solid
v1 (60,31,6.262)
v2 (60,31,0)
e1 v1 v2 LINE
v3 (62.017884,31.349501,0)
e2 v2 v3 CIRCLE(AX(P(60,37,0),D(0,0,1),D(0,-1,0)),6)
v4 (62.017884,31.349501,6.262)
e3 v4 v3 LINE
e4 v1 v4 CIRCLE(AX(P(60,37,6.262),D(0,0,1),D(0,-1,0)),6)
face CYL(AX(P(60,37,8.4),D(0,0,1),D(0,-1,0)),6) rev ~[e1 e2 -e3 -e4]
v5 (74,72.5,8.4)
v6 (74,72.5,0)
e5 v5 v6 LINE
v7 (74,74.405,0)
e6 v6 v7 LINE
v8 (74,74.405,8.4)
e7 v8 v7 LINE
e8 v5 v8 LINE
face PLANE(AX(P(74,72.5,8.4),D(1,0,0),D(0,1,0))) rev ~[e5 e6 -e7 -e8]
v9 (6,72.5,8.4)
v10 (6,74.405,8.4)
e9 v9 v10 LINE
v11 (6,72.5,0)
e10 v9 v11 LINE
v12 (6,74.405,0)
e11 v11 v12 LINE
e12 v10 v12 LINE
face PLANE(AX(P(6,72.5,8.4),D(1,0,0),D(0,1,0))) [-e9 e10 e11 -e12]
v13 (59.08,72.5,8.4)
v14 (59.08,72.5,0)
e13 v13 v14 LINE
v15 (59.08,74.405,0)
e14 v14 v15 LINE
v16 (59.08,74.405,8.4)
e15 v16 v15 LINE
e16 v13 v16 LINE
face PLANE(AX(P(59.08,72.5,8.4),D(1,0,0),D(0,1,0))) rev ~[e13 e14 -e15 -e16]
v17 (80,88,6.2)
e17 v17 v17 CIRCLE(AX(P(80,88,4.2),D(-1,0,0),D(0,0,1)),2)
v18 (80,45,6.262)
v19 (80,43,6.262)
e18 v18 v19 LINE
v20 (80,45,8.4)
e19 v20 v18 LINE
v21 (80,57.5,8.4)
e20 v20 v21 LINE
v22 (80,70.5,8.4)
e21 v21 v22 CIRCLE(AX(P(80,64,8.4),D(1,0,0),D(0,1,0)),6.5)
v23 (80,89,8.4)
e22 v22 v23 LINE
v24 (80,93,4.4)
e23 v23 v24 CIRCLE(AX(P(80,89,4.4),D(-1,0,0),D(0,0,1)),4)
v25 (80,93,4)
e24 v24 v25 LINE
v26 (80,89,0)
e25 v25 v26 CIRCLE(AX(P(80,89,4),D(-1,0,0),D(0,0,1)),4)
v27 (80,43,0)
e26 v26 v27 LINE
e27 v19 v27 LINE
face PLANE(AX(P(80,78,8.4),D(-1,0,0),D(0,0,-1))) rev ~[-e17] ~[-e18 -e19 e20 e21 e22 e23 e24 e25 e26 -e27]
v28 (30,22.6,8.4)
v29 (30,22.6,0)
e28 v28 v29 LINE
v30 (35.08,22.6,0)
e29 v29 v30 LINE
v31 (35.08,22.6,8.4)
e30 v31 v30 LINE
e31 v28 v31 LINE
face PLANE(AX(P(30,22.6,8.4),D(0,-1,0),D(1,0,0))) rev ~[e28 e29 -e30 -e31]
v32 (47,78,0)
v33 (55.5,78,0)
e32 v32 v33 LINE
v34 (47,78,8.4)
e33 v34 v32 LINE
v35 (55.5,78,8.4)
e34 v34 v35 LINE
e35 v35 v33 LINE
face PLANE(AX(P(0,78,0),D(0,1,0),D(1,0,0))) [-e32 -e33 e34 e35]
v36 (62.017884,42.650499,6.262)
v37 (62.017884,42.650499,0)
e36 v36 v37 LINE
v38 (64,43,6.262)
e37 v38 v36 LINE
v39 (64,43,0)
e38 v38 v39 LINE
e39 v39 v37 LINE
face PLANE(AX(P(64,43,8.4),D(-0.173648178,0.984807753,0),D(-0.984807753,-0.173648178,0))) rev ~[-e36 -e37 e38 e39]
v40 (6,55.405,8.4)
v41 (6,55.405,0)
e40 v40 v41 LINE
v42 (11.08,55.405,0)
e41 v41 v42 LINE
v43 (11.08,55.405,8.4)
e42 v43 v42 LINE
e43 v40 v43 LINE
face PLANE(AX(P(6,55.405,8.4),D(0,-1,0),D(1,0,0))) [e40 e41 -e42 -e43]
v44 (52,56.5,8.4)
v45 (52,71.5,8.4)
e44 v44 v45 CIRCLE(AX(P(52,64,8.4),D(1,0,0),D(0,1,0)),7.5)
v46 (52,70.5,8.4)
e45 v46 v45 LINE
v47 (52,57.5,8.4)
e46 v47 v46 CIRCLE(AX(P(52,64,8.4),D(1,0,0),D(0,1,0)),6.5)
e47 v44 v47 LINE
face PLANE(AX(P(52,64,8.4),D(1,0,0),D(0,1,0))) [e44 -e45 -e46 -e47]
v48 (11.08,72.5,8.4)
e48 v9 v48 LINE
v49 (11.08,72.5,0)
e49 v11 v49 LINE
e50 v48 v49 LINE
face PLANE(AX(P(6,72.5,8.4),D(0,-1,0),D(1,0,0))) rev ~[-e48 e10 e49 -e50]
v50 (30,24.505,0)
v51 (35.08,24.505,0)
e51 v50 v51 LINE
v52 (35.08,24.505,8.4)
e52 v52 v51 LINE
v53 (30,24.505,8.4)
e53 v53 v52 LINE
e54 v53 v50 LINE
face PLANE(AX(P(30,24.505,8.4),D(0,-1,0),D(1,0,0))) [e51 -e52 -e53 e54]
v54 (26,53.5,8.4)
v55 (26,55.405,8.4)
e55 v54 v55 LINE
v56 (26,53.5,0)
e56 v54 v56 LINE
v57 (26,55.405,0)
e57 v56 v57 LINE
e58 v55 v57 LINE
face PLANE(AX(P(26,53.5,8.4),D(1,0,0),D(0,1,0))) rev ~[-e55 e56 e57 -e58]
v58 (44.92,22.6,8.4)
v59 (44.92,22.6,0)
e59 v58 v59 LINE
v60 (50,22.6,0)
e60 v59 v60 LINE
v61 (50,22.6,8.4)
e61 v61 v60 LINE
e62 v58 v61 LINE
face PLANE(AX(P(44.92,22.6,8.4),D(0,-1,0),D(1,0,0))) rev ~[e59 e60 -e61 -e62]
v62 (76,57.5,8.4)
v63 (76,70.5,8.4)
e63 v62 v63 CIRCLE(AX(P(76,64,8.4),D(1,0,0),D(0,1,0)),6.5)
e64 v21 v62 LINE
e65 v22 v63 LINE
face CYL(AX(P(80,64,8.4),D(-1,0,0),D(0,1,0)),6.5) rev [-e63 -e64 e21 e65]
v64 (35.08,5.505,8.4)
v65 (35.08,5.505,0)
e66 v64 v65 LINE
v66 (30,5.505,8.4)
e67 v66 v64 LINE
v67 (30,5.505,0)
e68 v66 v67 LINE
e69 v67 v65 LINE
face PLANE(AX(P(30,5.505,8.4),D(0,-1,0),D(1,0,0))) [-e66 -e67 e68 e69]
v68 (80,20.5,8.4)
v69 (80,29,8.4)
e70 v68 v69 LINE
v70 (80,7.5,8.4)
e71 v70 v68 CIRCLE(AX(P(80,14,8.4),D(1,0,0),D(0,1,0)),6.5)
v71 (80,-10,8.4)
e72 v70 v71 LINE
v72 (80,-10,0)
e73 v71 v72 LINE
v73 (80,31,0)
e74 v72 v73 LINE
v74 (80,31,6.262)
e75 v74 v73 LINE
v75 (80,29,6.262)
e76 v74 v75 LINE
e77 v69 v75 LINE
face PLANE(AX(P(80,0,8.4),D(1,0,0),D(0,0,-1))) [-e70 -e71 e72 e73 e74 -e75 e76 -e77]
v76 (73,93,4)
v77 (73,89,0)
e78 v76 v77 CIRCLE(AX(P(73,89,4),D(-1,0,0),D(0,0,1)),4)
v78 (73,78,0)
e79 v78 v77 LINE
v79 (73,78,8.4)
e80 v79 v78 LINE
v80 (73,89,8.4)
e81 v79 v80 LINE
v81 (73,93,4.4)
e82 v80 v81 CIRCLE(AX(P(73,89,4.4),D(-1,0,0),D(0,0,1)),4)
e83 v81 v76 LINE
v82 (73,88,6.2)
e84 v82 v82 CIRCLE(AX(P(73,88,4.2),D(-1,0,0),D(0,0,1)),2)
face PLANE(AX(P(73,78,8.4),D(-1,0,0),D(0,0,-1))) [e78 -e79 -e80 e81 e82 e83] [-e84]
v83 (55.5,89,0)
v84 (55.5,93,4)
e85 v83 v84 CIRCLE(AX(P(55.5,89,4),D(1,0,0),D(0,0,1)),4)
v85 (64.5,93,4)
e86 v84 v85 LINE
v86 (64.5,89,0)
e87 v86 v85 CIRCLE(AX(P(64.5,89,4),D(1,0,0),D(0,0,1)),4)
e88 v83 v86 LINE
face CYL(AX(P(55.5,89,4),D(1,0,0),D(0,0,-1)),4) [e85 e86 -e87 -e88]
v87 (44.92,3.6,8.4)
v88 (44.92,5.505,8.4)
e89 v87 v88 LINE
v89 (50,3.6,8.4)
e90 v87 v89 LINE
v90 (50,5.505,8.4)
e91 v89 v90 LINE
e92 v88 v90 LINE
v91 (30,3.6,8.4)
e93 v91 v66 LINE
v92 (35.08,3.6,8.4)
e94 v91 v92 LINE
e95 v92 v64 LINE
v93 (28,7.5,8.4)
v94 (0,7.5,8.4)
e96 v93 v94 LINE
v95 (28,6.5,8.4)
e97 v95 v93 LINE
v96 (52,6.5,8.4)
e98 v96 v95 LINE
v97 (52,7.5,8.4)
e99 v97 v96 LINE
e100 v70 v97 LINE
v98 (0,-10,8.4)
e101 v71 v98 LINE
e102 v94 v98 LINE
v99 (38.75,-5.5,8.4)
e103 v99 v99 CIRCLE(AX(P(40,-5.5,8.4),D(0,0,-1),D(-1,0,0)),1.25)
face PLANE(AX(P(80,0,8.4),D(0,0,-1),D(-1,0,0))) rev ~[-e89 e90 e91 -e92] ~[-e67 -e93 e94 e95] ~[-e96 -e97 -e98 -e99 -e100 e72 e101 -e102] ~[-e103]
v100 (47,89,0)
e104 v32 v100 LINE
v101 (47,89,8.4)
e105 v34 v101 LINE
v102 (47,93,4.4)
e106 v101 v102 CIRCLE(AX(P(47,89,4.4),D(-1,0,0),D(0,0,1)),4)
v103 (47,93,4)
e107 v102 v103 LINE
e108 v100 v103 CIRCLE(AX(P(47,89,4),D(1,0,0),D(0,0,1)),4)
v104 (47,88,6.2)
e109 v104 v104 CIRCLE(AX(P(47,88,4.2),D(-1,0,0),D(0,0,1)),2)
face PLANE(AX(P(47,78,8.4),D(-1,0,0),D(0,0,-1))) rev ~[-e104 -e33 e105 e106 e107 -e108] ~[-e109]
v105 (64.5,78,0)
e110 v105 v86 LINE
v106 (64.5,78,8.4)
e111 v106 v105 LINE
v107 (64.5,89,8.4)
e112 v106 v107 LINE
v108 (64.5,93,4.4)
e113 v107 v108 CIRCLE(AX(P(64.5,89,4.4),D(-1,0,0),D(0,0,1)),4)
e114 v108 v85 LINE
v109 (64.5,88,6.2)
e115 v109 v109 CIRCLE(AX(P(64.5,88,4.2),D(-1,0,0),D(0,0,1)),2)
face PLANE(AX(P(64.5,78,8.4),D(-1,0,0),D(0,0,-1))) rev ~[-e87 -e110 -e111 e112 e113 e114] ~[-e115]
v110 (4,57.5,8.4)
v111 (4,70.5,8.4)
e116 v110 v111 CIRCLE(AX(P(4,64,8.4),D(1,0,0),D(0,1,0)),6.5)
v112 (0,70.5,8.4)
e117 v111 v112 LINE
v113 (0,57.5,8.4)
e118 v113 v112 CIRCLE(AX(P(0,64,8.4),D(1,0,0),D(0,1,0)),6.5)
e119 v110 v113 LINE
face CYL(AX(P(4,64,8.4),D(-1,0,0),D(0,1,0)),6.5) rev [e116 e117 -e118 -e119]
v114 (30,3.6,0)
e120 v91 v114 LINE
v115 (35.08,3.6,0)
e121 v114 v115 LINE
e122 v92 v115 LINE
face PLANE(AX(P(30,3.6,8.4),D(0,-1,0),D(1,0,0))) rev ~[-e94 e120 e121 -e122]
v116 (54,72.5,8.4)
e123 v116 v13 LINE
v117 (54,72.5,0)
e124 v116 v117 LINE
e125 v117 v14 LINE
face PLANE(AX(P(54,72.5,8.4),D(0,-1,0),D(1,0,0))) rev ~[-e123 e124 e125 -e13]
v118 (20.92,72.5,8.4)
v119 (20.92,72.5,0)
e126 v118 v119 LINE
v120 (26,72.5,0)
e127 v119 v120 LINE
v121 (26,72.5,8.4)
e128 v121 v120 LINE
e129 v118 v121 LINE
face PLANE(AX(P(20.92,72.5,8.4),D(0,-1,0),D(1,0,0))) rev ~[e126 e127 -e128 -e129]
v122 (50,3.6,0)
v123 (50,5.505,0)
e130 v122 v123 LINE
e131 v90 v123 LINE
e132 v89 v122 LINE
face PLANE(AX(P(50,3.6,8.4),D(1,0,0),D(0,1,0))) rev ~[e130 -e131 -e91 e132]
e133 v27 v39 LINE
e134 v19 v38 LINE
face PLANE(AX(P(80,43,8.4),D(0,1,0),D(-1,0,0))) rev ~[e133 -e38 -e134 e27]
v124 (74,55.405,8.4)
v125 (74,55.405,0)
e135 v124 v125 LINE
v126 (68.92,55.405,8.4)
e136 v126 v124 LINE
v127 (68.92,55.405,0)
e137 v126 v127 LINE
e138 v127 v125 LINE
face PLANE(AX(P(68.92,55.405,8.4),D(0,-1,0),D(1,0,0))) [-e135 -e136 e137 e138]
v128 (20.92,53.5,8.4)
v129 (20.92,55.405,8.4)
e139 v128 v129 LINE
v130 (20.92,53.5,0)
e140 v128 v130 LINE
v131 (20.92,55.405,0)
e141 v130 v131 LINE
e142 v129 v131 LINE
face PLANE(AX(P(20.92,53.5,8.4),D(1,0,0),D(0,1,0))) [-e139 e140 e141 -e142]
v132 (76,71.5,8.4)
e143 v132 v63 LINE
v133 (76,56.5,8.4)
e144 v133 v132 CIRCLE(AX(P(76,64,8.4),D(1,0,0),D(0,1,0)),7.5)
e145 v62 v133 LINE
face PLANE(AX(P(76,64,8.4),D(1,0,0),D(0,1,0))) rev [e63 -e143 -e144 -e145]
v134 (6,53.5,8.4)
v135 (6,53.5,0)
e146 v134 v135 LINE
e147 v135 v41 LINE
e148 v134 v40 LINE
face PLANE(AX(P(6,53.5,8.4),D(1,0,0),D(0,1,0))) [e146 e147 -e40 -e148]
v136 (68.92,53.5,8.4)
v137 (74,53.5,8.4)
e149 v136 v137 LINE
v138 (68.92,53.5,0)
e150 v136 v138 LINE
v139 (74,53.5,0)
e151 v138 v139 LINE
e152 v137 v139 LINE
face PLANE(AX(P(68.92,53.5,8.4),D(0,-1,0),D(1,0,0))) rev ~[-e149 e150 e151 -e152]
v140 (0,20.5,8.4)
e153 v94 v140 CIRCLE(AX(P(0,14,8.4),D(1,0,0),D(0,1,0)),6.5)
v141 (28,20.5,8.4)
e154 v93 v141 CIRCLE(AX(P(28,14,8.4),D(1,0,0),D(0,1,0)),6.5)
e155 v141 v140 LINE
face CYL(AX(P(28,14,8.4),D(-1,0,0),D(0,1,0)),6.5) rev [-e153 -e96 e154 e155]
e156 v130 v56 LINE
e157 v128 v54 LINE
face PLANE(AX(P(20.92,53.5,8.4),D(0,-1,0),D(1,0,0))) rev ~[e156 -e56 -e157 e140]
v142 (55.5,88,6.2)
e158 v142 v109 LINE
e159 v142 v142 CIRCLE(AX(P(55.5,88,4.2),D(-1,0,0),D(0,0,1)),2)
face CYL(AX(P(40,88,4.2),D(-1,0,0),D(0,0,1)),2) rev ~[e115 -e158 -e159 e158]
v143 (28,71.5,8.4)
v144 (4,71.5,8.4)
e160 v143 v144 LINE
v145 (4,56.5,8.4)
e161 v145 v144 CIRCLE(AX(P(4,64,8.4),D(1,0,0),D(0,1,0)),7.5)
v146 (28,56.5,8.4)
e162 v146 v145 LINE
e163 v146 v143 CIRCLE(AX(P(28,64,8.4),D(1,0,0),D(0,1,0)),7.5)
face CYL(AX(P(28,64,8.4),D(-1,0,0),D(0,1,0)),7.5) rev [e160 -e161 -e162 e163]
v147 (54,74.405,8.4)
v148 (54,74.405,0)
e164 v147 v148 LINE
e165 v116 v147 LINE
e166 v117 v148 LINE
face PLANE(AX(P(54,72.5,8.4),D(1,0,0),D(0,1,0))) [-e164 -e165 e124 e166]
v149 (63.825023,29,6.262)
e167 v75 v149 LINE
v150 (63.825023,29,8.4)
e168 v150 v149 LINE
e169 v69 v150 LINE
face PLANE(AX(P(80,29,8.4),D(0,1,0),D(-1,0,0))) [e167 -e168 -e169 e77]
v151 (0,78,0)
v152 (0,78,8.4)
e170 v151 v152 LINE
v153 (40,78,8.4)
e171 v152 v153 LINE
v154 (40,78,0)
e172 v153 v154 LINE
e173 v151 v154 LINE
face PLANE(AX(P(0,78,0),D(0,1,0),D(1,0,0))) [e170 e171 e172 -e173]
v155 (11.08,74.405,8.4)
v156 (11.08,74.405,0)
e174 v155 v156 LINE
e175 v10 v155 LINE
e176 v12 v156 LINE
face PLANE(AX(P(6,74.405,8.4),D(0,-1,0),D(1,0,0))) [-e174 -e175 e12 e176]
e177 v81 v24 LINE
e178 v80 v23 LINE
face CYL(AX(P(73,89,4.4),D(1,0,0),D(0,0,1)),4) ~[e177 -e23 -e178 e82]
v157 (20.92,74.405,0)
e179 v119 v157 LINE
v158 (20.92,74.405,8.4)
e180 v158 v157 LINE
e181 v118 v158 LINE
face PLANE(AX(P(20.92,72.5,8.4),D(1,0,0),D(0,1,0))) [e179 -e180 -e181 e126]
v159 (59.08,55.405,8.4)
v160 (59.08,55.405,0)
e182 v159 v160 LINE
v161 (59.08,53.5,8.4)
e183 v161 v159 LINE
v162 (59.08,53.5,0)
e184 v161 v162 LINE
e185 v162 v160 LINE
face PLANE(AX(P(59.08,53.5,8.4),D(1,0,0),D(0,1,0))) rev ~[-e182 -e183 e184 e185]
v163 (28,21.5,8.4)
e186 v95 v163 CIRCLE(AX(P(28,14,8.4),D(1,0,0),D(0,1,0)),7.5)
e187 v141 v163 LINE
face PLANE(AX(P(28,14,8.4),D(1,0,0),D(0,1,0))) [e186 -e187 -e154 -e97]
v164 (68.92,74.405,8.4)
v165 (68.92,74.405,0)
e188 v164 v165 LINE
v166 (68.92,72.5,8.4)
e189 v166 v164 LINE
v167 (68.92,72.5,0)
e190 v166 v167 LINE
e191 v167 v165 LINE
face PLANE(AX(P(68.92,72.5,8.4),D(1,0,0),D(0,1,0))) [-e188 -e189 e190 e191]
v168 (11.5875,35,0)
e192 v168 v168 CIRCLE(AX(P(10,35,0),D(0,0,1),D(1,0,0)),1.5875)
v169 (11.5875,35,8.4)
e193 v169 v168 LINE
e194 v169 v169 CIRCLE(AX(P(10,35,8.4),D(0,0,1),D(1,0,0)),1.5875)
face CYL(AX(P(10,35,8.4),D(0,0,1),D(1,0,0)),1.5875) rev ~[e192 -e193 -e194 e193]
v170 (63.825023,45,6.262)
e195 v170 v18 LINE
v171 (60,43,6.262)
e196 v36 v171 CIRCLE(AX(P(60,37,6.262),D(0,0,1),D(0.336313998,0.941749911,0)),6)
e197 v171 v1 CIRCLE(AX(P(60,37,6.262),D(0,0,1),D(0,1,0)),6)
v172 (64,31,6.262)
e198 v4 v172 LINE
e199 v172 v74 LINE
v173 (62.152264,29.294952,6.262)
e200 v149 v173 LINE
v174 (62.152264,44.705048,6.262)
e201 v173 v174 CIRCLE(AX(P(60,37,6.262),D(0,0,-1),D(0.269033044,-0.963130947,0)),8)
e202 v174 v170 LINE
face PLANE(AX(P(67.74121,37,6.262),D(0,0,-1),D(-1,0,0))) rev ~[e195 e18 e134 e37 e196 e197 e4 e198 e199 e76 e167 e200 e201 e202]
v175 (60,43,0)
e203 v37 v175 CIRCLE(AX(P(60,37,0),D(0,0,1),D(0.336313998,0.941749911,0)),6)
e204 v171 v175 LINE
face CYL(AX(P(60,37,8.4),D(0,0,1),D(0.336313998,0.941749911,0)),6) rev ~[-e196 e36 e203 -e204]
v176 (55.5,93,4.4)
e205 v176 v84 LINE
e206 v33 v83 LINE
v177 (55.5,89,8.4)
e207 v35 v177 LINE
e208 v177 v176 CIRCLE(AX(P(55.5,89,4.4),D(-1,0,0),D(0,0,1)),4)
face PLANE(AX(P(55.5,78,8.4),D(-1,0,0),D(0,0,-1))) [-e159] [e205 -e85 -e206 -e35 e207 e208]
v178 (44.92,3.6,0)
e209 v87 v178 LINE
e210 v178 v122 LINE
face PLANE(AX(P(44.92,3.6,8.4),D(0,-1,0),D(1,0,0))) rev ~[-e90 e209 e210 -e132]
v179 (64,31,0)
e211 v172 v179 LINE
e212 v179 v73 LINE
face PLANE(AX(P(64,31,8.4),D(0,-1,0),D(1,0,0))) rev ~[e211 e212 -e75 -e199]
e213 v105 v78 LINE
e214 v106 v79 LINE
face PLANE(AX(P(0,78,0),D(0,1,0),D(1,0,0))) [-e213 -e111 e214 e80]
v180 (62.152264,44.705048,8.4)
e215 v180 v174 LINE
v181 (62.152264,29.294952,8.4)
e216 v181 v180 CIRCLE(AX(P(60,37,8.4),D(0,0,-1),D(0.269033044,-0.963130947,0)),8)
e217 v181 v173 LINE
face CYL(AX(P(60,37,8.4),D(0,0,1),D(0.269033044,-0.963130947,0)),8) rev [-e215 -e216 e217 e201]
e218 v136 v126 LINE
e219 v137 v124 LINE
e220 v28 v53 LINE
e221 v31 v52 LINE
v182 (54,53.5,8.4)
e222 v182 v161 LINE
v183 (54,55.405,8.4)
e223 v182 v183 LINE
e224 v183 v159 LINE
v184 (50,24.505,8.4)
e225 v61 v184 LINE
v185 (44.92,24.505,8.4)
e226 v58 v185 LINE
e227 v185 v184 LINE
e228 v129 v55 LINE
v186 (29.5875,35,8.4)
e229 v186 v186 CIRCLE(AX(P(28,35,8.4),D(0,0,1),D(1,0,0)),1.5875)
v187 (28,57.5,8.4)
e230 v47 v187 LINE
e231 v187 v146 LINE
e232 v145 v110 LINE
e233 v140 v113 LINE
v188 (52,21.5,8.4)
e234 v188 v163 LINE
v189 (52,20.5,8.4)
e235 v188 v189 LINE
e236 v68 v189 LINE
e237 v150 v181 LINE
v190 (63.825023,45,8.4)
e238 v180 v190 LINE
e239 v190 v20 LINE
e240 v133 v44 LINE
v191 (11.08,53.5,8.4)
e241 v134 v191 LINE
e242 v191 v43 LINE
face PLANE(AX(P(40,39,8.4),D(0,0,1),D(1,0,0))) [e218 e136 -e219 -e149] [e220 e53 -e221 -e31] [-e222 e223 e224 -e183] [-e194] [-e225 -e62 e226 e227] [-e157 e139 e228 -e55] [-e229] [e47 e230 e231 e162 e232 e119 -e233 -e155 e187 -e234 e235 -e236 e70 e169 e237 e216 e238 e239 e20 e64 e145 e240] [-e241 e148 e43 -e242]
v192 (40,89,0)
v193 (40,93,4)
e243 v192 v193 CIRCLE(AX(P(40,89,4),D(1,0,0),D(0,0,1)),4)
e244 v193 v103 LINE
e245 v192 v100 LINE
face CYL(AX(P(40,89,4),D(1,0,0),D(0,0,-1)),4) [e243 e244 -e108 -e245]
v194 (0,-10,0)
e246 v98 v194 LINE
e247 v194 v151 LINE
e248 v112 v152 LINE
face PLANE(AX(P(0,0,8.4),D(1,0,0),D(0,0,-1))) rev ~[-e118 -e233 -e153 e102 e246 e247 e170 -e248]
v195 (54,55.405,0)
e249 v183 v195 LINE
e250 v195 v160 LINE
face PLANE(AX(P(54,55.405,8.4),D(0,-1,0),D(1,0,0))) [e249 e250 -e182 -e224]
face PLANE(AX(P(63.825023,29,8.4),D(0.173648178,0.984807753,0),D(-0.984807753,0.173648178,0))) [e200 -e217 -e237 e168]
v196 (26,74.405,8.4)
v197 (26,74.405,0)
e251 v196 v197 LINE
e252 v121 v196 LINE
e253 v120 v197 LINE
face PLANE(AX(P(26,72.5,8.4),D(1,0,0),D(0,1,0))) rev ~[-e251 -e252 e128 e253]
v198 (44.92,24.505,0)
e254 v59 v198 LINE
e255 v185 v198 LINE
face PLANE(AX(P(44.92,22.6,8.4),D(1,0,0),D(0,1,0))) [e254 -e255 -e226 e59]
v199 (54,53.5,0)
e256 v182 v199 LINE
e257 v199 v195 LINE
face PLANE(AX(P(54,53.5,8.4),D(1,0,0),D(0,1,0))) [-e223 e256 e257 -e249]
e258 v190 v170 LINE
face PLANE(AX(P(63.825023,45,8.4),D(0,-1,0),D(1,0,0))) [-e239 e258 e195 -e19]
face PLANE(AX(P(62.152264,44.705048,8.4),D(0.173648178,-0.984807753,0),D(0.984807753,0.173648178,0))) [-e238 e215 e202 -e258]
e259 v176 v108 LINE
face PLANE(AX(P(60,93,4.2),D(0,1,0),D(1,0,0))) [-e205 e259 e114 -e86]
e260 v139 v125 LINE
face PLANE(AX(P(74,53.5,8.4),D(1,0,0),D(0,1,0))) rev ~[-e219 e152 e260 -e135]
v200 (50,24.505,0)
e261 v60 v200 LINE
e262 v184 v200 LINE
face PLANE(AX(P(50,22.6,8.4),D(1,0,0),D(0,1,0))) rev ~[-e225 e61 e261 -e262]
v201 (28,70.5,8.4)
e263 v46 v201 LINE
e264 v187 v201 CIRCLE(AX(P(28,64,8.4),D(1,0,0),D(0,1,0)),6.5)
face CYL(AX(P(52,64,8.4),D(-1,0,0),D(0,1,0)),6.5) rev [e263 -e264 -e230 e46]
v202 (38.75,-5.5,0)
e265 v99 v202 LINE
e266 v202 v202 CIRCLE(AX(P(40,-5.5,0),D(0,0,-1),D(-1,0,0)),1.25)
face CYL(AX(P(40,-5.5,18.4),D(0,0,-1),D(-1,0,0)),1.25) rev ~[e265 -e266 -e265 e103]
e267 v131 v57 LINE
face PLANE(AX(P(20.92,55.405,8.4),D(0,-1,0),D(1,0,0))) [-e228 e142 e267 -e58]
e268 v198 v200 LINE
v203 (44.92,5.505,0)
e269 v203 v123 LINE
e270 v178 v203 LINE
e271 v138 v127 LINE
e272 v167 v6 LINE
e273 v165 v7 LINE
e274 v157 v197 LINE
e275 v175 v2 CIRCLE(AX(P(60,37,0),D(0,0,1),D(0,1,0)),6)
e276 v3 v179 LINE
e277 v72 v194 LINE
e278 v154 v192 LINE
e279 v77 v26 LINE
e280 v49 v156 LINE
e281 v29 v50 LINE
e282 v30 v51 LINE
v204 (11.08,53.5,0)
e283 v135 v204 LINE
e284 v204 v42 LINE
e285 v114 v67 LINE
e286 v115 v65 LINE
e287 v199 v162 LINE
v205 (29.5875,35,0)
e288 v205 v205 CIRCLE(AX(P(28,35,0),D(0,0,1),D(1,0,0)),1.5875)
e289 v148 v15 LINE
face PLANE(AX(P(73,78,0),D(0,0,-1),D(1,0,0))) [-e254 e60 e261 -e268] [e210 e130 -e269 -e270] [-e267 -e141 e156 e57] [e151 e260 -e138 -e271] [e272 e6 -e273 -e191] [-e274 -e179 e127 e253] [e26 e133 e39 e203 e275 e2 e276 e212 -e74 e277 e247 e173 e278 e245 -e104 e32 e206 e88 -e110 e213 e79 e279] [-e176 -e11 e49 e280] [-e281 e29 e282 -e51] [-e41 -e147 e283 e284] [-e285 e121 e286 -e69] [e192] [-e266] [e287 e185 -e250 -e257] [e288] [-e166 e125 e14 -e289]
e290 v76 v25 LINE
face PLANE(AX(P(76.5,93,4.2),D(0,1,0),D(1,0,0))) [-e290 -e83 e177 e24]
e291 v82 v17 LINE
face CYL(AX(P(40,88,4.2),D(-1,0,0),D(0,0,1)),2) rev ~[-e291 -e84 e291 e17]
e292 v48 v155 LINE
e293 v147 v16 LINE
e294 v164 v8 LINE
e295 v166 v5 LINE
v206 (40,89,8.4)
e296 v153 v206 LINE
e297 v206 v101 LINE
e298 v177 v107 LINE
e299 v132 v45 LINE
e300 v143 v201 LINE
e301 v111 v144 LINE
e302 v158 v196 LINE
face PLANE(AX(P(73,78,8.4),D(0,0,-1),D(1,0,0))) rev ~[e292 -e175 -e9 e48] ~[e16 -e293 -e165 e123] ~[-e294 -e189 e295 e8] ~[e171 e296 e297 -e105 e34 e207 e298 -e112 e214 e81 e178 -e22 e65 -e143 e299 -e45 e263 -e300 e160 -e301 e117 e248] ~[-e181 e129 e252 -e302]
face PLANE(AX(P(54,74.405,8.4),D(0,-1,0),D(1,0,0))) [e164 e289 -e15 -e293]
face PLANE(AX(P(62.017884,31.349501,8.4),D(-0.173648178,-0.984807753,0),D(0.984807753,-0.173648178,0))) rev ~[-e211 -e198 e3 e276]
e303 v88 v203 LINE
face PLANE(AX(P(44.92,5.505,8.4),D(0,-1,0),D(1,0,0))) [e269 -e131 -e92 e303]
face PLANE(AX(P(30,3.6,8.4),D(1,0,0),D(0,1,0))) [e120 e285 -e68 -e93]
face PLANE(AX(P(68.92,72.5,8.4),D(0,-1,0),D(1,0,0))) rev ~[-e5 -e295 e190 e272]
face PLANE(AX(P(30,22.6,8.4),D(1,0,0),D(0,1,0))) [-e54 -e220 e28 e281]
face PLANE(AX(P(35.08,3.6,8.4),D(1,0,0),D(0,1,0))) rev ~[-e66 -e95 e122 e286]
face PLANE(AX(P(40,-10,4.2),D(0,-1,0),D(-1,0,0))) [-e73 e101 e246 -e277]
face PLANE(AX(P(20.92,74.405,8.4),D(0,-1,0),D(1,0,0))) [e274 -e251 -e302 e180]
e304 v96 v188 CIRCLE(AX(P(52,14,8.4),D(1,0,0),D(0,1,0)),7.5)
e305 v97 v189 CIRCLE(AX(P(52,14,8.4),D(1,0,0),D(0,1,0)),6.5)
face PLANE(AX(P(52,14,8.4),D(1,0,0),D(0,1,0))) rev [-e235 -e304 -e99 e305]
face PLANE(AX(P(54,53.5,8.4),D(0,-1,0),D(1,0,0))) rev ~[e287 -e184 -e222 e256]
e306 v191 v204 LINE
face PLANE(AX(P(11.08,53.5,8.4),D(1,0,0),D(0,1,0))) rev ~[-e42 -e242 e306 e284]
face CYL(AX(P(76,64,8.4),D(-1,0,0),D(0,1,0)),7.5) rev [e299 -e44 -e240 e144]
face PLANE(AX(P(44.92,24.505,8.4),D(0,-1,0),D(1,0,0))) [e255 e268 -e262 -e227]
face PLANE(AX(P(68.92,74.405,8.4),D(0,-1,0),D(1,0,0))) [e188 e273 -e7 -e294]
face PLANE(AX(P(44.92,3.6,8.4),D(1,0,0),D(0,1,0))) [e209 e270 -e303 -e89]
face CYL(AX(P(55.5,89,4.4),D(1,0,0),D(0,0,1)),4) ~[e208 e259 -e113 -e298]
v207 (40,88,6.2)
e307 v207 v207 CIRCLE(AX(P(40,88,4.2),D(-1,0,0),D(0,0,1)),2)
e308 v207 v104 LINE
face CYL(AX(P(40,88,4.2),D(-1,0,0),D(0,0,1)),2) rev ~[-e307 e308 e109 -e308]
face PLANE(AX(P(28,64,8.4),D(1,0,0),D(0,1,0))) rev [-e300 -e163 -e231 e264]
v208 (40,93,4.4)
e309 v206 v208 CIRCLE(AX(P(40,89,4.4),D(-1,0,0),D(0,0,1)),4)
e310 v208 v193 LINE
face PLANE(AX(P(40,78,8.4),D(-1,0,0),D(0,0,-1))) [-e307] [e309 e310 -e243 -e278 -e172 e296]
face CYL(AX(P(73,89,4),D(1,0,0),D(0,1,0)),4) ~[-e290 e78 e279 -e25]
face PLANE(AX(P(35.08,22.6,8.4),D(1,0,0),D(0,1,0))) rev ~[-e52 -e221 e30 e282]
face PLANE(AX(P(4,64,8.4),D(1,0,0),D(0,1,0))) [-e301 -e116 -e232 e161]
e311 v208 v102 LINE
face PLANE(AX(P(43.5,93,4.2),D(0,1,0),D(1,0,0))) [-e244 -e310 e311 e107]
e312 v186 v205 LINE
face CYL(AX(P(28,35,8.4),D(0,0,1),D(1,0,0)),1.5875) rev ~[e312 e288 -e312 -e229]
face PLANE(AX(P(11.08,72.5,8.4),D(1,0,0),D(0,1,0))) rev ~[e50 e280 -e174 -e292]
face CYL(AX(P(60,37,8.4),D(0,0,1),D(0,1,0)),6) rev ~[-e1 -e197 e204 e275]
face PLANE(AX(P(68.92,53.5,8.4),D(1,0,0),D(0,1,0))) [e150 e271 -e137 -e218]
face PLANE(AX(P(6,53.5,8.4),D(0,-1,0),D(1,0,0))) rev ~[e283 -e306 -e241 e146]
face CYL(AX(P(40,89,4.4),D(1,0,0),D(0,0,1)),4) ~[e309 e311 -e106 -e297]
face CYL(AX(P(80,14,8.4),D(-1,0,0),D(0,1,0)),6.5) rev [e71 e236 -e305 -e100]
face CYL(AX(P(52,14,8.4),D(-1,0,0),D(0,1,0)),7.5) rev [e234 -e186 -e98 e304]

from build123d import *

# Parameters (mm, degrees)
SKETCH1_W                      = 80
SKETCH1_H                      = 78
BOSS_EXTRUDE1_DEPTH            = 8.4
SKETCH4_W                      = 5.08
SKETCH4_H                      = 1.905
CUT_EXTRUDE1_DEPTH             = 9.4
LPATTERN1_COUNT                = 2
LPATTERN1_PITCH                = 19
LPATTERN1_COUNT_DIR2           = 2
LPATTERN1_PITCH_DIR2           = 48
SKETCH5_W                      = 5.08
SKETCH5_H                      = 1.905
CUT_EXTRUDE2_DEPTH             = 8.4
LPATTERN2_COUNT                = 2
LPATTERN2_PITCH                = 19
CUT_EXTRUDE3_DEPTH             = 9.4
CUT_EXTRUDE4_DEPTH             = 2.138
SKETCH9_R                      = 1.5875
CUT_EXTRUDE5_DEPTH             = 9.4
SKETCH11_W                     = 80
SKETCH11_H                     = 8.4
BOSS_EXTRUDE3_DEPTH            = 10
F_2_5_2_5_DIAMETER_HOLE1_D     = 2.5
F_2_5_2_5_DIAMETER_HOLE1_DEPTH = 10
SKETCH14_W                     = 9
SKETCH14_H                     = 8.4
SKETCH14_W_2                   = 7
BOSS_EXTRUDE4_DEPTH            = 15
SKETCH16_R                     = 2
CUT_EXTRUDE6_DEPTH             = 45.4
FILLET1_R                      = 4


with BuildPart() as part:
    # Sketch1 → Boss-Extrude1 (new body)
    with BuildSketch(Plane.XY):
        with Locations((40, 39)):
            Rectangle(SKETCH1_W, SKETCH1_H)
    extrude(amount=BOSS_EXTRUDE1_DEPTH)

    # Sketch2 → Cut-Revolve1 (revolve, cut)
    with BuildSketch(Plane.XY.offset(8.4)):
        Polygon((0, 70.5), (0, 64), (9.541087991, 64), (23.495378694, 64), (54.462434776, 64), (68.225570813, 64), (80, 64), (80, 70.5), (76, 70.5), (76, 71.5), (52, 71.5), (52, 70.5), (28, 70.5), (28, 71.5), (4, 71.5), (4, 70.5), align=None)
    revolve(axis=Axis((0, 64, 8.4), (1, 0, 0)), mode=Mode.SUBTRACT)

    # Sketch3 → Cut-Revolve2 (revolve, cut)
    with BuildSketch(Plane.XY.offset(8.4)):
        Polygon((0, 20.5), (0, 14), (25.709253363, 14), (47.957380272, 14), (80, 14), (80, 20.5), (52, 20.5), (52, 21.5), (28, 21.5), (28, 20.5), align=None)
    revolve(axis=Axis((0, 14, 8.4), (1, 0, 0)), mode=Mode.SUBTRACT)

    # Sketch4 → Cut-Extrude1 (cut, through all)
    with BuildSketch(Plane.XY.offset(8.4)):
        with Locations((8.54, 73.4525)):
            Rectangle(SKETCH4_W, SKETCH4_H)
        with Locations((23.46, 73.4525)):
            Rectangle(SKETCH4_W, SKETCH4_H)
    cut_extrude1 = extrude(amount=-CUT_EXTRUDE1_DEPTH, mode=Mode.SUBTRACT)

    # LPattern1: Cut-Extrude1 2 × 2
    with Locations(*[(j * LPATTERN1_PITCH_DIR2, -i * LPATTERN1_PITCH, 0) for i in range(LPATTERN1_COUNT) for j in range(LPATTERN1_COUNT_DIR2) if (i, j) != (0, 0)]):
        add(cut_extrude1, mode=Mode.SUBTRACT)

    # Sketch5 → Cut-Extrude2 (cut)
    with BuildSketch(Plane.XY.offset(8.4)):
        with Locations((32.54, 23.5525)):
            Rectangle(SKETCH5_W, SKETCH5_H)
        with Locations((47.46, 23.5525)):
            Rectangle(SKETCH5_W, SKETCH5_H)
    cut_extrude2 = extrude(amount=-CUT_EXTRUDE2_DEPTH, mode=Mode.SUBTRACT)

    # LPattern2: Cut-Extrude2 ×2
    with Locations(*[(0, -i * LPATTERN2_PITCH, 0) for i in range(1, LPATTERN2_COUNT)]):
        add(cut_extrude2, mode=Mode.SUBTRACT)

    # Sketch6 → Cut-Extrude3 (cut, through all)
    with BuildSketch(Plane.XY.offset(8.4)):
        with BuildLine():
            ThreePointArc((62.017883983, 42.650499467), (61.02396367, 42.911979229), (60, 43))
            ThreePointArc((60, 43), (54, 37), (60, 31))
            ThreePointArc((60, 31), (61.02396367, 31.088020771), (62.017883983, 31.349500533))
            Line((62.017883983, 31.349500533), (64, 31))
            Line((64, 31), (80, 31))
            Line((80, 31), (80, 43))
            Line((80, 43), (64, 43))
            Line((64, 43), (62.017883983, 42.650499467))
        make_face()
    extrude(amount=-CUT_EXTRUDE3_DEPTH, mode=Mode.SUBTRACT)

    # Sketch8 → Cut-Extrude4 (cut)
    with BuildSketch(Plane.XY.offset(8.4)):
        with BuildLine():
            Line((80, 45), (80, 29))
            Line((80, 29), (63.825022673, 29))
            Line((63.825022673, 29), (62.152264354, 29.294952424))
            ThreePointArc((62.152264354, 29.294952424), (52, 37), (62.152264354, 44.705047576))
            Line((62.152264354, 44.705047576), (63.825022673, 45))
            Line((63.825022673, 45), (80, 45))
        make_face()
    extrude(amount=-CUT_EXTRUDE4_DEPTH, mode=Mode.SUBTRACT)

    # Sketch9 → Cut-Extrude5 (cut, through all)
    with BuildSketch(Plane.XY.offset(8.4)):
        with Locations((10, 35)):
            Circle(SKETCH9_R)
        with Locations((28, 35)):
            Circle(SKETCH9_R)
    extrude(amount=-CUT_EXTRUDE5_DEPTH, mode=Mode.SUBTRACT)

    # Sketch11 → Boss-Extrude3 (add)
    with BuildSketch(Plane(origin=(0, 0, 0), x_dir=(-1, 0, 0), z_dir=(0, -1, 0))):
        with Locations((-40, -4.2)):
            Rectangle(SKETCH11_W, SKETCH11_H)
    extrude(amount=BOSS_EXTRUDE3_DEPTH)

    # Ø2.5 (2.5) Diameter Hole1
    with Locations(Plane.XY.offset(8.4)):
        with Locations((40, -5.5)):
            Hole(F_2_5_2_5_DIAMETER_HOLE1_D / 2, depth=F_2_5_2_5_DIAMETER_HOLE1_DEPTH)

    # Sketch14 → Boss-Extrude4 (add)
    with BuildSketch(Plane(origin=(0, 78, 0), x_dir=(1, 0, 0), z_dir=(0, 1, 0))):
        with Locations((60, -4.2)):
            Rectangle(SKETCH14_W, SKETCH14_H)
        with Locations((76.5, -4.2)):
            Rectangle(SKETCH14_W_2, SKETCH14_H)
        with Locations((43.5, -4.2)):
            Rectangle(SKETCH14_W_2, SKETCH14_H)
    extrude(amount=BOSS_EXTRUDE4_DEPTH)

    # Sketch16 → Cut-Extrude6 (cut)
    with BuildSketch(Plane.ZY.offset(-40)):
        with Locations((4.2, 88)):
            Circle(SKETCH16_R)
    extrude(amount=-CUT_EXTRUDE6_DEPTH, mode=Mode.SUBTRACT)

    # Fillet1
    fillet1_edges = [part.edges().sort_by_distance(p)[0] for p in [
        (76.5, 93, 8.4),
        (76.5, 93, 0),
        (60, 93, 8.4),
        (60, 93, 0),
        (43.5, 93, 8.4),
        (43.5, 93, 0),
    ]]
    fillet(fillet1_edges, radius=FILLET1_R)


solid = part.part
